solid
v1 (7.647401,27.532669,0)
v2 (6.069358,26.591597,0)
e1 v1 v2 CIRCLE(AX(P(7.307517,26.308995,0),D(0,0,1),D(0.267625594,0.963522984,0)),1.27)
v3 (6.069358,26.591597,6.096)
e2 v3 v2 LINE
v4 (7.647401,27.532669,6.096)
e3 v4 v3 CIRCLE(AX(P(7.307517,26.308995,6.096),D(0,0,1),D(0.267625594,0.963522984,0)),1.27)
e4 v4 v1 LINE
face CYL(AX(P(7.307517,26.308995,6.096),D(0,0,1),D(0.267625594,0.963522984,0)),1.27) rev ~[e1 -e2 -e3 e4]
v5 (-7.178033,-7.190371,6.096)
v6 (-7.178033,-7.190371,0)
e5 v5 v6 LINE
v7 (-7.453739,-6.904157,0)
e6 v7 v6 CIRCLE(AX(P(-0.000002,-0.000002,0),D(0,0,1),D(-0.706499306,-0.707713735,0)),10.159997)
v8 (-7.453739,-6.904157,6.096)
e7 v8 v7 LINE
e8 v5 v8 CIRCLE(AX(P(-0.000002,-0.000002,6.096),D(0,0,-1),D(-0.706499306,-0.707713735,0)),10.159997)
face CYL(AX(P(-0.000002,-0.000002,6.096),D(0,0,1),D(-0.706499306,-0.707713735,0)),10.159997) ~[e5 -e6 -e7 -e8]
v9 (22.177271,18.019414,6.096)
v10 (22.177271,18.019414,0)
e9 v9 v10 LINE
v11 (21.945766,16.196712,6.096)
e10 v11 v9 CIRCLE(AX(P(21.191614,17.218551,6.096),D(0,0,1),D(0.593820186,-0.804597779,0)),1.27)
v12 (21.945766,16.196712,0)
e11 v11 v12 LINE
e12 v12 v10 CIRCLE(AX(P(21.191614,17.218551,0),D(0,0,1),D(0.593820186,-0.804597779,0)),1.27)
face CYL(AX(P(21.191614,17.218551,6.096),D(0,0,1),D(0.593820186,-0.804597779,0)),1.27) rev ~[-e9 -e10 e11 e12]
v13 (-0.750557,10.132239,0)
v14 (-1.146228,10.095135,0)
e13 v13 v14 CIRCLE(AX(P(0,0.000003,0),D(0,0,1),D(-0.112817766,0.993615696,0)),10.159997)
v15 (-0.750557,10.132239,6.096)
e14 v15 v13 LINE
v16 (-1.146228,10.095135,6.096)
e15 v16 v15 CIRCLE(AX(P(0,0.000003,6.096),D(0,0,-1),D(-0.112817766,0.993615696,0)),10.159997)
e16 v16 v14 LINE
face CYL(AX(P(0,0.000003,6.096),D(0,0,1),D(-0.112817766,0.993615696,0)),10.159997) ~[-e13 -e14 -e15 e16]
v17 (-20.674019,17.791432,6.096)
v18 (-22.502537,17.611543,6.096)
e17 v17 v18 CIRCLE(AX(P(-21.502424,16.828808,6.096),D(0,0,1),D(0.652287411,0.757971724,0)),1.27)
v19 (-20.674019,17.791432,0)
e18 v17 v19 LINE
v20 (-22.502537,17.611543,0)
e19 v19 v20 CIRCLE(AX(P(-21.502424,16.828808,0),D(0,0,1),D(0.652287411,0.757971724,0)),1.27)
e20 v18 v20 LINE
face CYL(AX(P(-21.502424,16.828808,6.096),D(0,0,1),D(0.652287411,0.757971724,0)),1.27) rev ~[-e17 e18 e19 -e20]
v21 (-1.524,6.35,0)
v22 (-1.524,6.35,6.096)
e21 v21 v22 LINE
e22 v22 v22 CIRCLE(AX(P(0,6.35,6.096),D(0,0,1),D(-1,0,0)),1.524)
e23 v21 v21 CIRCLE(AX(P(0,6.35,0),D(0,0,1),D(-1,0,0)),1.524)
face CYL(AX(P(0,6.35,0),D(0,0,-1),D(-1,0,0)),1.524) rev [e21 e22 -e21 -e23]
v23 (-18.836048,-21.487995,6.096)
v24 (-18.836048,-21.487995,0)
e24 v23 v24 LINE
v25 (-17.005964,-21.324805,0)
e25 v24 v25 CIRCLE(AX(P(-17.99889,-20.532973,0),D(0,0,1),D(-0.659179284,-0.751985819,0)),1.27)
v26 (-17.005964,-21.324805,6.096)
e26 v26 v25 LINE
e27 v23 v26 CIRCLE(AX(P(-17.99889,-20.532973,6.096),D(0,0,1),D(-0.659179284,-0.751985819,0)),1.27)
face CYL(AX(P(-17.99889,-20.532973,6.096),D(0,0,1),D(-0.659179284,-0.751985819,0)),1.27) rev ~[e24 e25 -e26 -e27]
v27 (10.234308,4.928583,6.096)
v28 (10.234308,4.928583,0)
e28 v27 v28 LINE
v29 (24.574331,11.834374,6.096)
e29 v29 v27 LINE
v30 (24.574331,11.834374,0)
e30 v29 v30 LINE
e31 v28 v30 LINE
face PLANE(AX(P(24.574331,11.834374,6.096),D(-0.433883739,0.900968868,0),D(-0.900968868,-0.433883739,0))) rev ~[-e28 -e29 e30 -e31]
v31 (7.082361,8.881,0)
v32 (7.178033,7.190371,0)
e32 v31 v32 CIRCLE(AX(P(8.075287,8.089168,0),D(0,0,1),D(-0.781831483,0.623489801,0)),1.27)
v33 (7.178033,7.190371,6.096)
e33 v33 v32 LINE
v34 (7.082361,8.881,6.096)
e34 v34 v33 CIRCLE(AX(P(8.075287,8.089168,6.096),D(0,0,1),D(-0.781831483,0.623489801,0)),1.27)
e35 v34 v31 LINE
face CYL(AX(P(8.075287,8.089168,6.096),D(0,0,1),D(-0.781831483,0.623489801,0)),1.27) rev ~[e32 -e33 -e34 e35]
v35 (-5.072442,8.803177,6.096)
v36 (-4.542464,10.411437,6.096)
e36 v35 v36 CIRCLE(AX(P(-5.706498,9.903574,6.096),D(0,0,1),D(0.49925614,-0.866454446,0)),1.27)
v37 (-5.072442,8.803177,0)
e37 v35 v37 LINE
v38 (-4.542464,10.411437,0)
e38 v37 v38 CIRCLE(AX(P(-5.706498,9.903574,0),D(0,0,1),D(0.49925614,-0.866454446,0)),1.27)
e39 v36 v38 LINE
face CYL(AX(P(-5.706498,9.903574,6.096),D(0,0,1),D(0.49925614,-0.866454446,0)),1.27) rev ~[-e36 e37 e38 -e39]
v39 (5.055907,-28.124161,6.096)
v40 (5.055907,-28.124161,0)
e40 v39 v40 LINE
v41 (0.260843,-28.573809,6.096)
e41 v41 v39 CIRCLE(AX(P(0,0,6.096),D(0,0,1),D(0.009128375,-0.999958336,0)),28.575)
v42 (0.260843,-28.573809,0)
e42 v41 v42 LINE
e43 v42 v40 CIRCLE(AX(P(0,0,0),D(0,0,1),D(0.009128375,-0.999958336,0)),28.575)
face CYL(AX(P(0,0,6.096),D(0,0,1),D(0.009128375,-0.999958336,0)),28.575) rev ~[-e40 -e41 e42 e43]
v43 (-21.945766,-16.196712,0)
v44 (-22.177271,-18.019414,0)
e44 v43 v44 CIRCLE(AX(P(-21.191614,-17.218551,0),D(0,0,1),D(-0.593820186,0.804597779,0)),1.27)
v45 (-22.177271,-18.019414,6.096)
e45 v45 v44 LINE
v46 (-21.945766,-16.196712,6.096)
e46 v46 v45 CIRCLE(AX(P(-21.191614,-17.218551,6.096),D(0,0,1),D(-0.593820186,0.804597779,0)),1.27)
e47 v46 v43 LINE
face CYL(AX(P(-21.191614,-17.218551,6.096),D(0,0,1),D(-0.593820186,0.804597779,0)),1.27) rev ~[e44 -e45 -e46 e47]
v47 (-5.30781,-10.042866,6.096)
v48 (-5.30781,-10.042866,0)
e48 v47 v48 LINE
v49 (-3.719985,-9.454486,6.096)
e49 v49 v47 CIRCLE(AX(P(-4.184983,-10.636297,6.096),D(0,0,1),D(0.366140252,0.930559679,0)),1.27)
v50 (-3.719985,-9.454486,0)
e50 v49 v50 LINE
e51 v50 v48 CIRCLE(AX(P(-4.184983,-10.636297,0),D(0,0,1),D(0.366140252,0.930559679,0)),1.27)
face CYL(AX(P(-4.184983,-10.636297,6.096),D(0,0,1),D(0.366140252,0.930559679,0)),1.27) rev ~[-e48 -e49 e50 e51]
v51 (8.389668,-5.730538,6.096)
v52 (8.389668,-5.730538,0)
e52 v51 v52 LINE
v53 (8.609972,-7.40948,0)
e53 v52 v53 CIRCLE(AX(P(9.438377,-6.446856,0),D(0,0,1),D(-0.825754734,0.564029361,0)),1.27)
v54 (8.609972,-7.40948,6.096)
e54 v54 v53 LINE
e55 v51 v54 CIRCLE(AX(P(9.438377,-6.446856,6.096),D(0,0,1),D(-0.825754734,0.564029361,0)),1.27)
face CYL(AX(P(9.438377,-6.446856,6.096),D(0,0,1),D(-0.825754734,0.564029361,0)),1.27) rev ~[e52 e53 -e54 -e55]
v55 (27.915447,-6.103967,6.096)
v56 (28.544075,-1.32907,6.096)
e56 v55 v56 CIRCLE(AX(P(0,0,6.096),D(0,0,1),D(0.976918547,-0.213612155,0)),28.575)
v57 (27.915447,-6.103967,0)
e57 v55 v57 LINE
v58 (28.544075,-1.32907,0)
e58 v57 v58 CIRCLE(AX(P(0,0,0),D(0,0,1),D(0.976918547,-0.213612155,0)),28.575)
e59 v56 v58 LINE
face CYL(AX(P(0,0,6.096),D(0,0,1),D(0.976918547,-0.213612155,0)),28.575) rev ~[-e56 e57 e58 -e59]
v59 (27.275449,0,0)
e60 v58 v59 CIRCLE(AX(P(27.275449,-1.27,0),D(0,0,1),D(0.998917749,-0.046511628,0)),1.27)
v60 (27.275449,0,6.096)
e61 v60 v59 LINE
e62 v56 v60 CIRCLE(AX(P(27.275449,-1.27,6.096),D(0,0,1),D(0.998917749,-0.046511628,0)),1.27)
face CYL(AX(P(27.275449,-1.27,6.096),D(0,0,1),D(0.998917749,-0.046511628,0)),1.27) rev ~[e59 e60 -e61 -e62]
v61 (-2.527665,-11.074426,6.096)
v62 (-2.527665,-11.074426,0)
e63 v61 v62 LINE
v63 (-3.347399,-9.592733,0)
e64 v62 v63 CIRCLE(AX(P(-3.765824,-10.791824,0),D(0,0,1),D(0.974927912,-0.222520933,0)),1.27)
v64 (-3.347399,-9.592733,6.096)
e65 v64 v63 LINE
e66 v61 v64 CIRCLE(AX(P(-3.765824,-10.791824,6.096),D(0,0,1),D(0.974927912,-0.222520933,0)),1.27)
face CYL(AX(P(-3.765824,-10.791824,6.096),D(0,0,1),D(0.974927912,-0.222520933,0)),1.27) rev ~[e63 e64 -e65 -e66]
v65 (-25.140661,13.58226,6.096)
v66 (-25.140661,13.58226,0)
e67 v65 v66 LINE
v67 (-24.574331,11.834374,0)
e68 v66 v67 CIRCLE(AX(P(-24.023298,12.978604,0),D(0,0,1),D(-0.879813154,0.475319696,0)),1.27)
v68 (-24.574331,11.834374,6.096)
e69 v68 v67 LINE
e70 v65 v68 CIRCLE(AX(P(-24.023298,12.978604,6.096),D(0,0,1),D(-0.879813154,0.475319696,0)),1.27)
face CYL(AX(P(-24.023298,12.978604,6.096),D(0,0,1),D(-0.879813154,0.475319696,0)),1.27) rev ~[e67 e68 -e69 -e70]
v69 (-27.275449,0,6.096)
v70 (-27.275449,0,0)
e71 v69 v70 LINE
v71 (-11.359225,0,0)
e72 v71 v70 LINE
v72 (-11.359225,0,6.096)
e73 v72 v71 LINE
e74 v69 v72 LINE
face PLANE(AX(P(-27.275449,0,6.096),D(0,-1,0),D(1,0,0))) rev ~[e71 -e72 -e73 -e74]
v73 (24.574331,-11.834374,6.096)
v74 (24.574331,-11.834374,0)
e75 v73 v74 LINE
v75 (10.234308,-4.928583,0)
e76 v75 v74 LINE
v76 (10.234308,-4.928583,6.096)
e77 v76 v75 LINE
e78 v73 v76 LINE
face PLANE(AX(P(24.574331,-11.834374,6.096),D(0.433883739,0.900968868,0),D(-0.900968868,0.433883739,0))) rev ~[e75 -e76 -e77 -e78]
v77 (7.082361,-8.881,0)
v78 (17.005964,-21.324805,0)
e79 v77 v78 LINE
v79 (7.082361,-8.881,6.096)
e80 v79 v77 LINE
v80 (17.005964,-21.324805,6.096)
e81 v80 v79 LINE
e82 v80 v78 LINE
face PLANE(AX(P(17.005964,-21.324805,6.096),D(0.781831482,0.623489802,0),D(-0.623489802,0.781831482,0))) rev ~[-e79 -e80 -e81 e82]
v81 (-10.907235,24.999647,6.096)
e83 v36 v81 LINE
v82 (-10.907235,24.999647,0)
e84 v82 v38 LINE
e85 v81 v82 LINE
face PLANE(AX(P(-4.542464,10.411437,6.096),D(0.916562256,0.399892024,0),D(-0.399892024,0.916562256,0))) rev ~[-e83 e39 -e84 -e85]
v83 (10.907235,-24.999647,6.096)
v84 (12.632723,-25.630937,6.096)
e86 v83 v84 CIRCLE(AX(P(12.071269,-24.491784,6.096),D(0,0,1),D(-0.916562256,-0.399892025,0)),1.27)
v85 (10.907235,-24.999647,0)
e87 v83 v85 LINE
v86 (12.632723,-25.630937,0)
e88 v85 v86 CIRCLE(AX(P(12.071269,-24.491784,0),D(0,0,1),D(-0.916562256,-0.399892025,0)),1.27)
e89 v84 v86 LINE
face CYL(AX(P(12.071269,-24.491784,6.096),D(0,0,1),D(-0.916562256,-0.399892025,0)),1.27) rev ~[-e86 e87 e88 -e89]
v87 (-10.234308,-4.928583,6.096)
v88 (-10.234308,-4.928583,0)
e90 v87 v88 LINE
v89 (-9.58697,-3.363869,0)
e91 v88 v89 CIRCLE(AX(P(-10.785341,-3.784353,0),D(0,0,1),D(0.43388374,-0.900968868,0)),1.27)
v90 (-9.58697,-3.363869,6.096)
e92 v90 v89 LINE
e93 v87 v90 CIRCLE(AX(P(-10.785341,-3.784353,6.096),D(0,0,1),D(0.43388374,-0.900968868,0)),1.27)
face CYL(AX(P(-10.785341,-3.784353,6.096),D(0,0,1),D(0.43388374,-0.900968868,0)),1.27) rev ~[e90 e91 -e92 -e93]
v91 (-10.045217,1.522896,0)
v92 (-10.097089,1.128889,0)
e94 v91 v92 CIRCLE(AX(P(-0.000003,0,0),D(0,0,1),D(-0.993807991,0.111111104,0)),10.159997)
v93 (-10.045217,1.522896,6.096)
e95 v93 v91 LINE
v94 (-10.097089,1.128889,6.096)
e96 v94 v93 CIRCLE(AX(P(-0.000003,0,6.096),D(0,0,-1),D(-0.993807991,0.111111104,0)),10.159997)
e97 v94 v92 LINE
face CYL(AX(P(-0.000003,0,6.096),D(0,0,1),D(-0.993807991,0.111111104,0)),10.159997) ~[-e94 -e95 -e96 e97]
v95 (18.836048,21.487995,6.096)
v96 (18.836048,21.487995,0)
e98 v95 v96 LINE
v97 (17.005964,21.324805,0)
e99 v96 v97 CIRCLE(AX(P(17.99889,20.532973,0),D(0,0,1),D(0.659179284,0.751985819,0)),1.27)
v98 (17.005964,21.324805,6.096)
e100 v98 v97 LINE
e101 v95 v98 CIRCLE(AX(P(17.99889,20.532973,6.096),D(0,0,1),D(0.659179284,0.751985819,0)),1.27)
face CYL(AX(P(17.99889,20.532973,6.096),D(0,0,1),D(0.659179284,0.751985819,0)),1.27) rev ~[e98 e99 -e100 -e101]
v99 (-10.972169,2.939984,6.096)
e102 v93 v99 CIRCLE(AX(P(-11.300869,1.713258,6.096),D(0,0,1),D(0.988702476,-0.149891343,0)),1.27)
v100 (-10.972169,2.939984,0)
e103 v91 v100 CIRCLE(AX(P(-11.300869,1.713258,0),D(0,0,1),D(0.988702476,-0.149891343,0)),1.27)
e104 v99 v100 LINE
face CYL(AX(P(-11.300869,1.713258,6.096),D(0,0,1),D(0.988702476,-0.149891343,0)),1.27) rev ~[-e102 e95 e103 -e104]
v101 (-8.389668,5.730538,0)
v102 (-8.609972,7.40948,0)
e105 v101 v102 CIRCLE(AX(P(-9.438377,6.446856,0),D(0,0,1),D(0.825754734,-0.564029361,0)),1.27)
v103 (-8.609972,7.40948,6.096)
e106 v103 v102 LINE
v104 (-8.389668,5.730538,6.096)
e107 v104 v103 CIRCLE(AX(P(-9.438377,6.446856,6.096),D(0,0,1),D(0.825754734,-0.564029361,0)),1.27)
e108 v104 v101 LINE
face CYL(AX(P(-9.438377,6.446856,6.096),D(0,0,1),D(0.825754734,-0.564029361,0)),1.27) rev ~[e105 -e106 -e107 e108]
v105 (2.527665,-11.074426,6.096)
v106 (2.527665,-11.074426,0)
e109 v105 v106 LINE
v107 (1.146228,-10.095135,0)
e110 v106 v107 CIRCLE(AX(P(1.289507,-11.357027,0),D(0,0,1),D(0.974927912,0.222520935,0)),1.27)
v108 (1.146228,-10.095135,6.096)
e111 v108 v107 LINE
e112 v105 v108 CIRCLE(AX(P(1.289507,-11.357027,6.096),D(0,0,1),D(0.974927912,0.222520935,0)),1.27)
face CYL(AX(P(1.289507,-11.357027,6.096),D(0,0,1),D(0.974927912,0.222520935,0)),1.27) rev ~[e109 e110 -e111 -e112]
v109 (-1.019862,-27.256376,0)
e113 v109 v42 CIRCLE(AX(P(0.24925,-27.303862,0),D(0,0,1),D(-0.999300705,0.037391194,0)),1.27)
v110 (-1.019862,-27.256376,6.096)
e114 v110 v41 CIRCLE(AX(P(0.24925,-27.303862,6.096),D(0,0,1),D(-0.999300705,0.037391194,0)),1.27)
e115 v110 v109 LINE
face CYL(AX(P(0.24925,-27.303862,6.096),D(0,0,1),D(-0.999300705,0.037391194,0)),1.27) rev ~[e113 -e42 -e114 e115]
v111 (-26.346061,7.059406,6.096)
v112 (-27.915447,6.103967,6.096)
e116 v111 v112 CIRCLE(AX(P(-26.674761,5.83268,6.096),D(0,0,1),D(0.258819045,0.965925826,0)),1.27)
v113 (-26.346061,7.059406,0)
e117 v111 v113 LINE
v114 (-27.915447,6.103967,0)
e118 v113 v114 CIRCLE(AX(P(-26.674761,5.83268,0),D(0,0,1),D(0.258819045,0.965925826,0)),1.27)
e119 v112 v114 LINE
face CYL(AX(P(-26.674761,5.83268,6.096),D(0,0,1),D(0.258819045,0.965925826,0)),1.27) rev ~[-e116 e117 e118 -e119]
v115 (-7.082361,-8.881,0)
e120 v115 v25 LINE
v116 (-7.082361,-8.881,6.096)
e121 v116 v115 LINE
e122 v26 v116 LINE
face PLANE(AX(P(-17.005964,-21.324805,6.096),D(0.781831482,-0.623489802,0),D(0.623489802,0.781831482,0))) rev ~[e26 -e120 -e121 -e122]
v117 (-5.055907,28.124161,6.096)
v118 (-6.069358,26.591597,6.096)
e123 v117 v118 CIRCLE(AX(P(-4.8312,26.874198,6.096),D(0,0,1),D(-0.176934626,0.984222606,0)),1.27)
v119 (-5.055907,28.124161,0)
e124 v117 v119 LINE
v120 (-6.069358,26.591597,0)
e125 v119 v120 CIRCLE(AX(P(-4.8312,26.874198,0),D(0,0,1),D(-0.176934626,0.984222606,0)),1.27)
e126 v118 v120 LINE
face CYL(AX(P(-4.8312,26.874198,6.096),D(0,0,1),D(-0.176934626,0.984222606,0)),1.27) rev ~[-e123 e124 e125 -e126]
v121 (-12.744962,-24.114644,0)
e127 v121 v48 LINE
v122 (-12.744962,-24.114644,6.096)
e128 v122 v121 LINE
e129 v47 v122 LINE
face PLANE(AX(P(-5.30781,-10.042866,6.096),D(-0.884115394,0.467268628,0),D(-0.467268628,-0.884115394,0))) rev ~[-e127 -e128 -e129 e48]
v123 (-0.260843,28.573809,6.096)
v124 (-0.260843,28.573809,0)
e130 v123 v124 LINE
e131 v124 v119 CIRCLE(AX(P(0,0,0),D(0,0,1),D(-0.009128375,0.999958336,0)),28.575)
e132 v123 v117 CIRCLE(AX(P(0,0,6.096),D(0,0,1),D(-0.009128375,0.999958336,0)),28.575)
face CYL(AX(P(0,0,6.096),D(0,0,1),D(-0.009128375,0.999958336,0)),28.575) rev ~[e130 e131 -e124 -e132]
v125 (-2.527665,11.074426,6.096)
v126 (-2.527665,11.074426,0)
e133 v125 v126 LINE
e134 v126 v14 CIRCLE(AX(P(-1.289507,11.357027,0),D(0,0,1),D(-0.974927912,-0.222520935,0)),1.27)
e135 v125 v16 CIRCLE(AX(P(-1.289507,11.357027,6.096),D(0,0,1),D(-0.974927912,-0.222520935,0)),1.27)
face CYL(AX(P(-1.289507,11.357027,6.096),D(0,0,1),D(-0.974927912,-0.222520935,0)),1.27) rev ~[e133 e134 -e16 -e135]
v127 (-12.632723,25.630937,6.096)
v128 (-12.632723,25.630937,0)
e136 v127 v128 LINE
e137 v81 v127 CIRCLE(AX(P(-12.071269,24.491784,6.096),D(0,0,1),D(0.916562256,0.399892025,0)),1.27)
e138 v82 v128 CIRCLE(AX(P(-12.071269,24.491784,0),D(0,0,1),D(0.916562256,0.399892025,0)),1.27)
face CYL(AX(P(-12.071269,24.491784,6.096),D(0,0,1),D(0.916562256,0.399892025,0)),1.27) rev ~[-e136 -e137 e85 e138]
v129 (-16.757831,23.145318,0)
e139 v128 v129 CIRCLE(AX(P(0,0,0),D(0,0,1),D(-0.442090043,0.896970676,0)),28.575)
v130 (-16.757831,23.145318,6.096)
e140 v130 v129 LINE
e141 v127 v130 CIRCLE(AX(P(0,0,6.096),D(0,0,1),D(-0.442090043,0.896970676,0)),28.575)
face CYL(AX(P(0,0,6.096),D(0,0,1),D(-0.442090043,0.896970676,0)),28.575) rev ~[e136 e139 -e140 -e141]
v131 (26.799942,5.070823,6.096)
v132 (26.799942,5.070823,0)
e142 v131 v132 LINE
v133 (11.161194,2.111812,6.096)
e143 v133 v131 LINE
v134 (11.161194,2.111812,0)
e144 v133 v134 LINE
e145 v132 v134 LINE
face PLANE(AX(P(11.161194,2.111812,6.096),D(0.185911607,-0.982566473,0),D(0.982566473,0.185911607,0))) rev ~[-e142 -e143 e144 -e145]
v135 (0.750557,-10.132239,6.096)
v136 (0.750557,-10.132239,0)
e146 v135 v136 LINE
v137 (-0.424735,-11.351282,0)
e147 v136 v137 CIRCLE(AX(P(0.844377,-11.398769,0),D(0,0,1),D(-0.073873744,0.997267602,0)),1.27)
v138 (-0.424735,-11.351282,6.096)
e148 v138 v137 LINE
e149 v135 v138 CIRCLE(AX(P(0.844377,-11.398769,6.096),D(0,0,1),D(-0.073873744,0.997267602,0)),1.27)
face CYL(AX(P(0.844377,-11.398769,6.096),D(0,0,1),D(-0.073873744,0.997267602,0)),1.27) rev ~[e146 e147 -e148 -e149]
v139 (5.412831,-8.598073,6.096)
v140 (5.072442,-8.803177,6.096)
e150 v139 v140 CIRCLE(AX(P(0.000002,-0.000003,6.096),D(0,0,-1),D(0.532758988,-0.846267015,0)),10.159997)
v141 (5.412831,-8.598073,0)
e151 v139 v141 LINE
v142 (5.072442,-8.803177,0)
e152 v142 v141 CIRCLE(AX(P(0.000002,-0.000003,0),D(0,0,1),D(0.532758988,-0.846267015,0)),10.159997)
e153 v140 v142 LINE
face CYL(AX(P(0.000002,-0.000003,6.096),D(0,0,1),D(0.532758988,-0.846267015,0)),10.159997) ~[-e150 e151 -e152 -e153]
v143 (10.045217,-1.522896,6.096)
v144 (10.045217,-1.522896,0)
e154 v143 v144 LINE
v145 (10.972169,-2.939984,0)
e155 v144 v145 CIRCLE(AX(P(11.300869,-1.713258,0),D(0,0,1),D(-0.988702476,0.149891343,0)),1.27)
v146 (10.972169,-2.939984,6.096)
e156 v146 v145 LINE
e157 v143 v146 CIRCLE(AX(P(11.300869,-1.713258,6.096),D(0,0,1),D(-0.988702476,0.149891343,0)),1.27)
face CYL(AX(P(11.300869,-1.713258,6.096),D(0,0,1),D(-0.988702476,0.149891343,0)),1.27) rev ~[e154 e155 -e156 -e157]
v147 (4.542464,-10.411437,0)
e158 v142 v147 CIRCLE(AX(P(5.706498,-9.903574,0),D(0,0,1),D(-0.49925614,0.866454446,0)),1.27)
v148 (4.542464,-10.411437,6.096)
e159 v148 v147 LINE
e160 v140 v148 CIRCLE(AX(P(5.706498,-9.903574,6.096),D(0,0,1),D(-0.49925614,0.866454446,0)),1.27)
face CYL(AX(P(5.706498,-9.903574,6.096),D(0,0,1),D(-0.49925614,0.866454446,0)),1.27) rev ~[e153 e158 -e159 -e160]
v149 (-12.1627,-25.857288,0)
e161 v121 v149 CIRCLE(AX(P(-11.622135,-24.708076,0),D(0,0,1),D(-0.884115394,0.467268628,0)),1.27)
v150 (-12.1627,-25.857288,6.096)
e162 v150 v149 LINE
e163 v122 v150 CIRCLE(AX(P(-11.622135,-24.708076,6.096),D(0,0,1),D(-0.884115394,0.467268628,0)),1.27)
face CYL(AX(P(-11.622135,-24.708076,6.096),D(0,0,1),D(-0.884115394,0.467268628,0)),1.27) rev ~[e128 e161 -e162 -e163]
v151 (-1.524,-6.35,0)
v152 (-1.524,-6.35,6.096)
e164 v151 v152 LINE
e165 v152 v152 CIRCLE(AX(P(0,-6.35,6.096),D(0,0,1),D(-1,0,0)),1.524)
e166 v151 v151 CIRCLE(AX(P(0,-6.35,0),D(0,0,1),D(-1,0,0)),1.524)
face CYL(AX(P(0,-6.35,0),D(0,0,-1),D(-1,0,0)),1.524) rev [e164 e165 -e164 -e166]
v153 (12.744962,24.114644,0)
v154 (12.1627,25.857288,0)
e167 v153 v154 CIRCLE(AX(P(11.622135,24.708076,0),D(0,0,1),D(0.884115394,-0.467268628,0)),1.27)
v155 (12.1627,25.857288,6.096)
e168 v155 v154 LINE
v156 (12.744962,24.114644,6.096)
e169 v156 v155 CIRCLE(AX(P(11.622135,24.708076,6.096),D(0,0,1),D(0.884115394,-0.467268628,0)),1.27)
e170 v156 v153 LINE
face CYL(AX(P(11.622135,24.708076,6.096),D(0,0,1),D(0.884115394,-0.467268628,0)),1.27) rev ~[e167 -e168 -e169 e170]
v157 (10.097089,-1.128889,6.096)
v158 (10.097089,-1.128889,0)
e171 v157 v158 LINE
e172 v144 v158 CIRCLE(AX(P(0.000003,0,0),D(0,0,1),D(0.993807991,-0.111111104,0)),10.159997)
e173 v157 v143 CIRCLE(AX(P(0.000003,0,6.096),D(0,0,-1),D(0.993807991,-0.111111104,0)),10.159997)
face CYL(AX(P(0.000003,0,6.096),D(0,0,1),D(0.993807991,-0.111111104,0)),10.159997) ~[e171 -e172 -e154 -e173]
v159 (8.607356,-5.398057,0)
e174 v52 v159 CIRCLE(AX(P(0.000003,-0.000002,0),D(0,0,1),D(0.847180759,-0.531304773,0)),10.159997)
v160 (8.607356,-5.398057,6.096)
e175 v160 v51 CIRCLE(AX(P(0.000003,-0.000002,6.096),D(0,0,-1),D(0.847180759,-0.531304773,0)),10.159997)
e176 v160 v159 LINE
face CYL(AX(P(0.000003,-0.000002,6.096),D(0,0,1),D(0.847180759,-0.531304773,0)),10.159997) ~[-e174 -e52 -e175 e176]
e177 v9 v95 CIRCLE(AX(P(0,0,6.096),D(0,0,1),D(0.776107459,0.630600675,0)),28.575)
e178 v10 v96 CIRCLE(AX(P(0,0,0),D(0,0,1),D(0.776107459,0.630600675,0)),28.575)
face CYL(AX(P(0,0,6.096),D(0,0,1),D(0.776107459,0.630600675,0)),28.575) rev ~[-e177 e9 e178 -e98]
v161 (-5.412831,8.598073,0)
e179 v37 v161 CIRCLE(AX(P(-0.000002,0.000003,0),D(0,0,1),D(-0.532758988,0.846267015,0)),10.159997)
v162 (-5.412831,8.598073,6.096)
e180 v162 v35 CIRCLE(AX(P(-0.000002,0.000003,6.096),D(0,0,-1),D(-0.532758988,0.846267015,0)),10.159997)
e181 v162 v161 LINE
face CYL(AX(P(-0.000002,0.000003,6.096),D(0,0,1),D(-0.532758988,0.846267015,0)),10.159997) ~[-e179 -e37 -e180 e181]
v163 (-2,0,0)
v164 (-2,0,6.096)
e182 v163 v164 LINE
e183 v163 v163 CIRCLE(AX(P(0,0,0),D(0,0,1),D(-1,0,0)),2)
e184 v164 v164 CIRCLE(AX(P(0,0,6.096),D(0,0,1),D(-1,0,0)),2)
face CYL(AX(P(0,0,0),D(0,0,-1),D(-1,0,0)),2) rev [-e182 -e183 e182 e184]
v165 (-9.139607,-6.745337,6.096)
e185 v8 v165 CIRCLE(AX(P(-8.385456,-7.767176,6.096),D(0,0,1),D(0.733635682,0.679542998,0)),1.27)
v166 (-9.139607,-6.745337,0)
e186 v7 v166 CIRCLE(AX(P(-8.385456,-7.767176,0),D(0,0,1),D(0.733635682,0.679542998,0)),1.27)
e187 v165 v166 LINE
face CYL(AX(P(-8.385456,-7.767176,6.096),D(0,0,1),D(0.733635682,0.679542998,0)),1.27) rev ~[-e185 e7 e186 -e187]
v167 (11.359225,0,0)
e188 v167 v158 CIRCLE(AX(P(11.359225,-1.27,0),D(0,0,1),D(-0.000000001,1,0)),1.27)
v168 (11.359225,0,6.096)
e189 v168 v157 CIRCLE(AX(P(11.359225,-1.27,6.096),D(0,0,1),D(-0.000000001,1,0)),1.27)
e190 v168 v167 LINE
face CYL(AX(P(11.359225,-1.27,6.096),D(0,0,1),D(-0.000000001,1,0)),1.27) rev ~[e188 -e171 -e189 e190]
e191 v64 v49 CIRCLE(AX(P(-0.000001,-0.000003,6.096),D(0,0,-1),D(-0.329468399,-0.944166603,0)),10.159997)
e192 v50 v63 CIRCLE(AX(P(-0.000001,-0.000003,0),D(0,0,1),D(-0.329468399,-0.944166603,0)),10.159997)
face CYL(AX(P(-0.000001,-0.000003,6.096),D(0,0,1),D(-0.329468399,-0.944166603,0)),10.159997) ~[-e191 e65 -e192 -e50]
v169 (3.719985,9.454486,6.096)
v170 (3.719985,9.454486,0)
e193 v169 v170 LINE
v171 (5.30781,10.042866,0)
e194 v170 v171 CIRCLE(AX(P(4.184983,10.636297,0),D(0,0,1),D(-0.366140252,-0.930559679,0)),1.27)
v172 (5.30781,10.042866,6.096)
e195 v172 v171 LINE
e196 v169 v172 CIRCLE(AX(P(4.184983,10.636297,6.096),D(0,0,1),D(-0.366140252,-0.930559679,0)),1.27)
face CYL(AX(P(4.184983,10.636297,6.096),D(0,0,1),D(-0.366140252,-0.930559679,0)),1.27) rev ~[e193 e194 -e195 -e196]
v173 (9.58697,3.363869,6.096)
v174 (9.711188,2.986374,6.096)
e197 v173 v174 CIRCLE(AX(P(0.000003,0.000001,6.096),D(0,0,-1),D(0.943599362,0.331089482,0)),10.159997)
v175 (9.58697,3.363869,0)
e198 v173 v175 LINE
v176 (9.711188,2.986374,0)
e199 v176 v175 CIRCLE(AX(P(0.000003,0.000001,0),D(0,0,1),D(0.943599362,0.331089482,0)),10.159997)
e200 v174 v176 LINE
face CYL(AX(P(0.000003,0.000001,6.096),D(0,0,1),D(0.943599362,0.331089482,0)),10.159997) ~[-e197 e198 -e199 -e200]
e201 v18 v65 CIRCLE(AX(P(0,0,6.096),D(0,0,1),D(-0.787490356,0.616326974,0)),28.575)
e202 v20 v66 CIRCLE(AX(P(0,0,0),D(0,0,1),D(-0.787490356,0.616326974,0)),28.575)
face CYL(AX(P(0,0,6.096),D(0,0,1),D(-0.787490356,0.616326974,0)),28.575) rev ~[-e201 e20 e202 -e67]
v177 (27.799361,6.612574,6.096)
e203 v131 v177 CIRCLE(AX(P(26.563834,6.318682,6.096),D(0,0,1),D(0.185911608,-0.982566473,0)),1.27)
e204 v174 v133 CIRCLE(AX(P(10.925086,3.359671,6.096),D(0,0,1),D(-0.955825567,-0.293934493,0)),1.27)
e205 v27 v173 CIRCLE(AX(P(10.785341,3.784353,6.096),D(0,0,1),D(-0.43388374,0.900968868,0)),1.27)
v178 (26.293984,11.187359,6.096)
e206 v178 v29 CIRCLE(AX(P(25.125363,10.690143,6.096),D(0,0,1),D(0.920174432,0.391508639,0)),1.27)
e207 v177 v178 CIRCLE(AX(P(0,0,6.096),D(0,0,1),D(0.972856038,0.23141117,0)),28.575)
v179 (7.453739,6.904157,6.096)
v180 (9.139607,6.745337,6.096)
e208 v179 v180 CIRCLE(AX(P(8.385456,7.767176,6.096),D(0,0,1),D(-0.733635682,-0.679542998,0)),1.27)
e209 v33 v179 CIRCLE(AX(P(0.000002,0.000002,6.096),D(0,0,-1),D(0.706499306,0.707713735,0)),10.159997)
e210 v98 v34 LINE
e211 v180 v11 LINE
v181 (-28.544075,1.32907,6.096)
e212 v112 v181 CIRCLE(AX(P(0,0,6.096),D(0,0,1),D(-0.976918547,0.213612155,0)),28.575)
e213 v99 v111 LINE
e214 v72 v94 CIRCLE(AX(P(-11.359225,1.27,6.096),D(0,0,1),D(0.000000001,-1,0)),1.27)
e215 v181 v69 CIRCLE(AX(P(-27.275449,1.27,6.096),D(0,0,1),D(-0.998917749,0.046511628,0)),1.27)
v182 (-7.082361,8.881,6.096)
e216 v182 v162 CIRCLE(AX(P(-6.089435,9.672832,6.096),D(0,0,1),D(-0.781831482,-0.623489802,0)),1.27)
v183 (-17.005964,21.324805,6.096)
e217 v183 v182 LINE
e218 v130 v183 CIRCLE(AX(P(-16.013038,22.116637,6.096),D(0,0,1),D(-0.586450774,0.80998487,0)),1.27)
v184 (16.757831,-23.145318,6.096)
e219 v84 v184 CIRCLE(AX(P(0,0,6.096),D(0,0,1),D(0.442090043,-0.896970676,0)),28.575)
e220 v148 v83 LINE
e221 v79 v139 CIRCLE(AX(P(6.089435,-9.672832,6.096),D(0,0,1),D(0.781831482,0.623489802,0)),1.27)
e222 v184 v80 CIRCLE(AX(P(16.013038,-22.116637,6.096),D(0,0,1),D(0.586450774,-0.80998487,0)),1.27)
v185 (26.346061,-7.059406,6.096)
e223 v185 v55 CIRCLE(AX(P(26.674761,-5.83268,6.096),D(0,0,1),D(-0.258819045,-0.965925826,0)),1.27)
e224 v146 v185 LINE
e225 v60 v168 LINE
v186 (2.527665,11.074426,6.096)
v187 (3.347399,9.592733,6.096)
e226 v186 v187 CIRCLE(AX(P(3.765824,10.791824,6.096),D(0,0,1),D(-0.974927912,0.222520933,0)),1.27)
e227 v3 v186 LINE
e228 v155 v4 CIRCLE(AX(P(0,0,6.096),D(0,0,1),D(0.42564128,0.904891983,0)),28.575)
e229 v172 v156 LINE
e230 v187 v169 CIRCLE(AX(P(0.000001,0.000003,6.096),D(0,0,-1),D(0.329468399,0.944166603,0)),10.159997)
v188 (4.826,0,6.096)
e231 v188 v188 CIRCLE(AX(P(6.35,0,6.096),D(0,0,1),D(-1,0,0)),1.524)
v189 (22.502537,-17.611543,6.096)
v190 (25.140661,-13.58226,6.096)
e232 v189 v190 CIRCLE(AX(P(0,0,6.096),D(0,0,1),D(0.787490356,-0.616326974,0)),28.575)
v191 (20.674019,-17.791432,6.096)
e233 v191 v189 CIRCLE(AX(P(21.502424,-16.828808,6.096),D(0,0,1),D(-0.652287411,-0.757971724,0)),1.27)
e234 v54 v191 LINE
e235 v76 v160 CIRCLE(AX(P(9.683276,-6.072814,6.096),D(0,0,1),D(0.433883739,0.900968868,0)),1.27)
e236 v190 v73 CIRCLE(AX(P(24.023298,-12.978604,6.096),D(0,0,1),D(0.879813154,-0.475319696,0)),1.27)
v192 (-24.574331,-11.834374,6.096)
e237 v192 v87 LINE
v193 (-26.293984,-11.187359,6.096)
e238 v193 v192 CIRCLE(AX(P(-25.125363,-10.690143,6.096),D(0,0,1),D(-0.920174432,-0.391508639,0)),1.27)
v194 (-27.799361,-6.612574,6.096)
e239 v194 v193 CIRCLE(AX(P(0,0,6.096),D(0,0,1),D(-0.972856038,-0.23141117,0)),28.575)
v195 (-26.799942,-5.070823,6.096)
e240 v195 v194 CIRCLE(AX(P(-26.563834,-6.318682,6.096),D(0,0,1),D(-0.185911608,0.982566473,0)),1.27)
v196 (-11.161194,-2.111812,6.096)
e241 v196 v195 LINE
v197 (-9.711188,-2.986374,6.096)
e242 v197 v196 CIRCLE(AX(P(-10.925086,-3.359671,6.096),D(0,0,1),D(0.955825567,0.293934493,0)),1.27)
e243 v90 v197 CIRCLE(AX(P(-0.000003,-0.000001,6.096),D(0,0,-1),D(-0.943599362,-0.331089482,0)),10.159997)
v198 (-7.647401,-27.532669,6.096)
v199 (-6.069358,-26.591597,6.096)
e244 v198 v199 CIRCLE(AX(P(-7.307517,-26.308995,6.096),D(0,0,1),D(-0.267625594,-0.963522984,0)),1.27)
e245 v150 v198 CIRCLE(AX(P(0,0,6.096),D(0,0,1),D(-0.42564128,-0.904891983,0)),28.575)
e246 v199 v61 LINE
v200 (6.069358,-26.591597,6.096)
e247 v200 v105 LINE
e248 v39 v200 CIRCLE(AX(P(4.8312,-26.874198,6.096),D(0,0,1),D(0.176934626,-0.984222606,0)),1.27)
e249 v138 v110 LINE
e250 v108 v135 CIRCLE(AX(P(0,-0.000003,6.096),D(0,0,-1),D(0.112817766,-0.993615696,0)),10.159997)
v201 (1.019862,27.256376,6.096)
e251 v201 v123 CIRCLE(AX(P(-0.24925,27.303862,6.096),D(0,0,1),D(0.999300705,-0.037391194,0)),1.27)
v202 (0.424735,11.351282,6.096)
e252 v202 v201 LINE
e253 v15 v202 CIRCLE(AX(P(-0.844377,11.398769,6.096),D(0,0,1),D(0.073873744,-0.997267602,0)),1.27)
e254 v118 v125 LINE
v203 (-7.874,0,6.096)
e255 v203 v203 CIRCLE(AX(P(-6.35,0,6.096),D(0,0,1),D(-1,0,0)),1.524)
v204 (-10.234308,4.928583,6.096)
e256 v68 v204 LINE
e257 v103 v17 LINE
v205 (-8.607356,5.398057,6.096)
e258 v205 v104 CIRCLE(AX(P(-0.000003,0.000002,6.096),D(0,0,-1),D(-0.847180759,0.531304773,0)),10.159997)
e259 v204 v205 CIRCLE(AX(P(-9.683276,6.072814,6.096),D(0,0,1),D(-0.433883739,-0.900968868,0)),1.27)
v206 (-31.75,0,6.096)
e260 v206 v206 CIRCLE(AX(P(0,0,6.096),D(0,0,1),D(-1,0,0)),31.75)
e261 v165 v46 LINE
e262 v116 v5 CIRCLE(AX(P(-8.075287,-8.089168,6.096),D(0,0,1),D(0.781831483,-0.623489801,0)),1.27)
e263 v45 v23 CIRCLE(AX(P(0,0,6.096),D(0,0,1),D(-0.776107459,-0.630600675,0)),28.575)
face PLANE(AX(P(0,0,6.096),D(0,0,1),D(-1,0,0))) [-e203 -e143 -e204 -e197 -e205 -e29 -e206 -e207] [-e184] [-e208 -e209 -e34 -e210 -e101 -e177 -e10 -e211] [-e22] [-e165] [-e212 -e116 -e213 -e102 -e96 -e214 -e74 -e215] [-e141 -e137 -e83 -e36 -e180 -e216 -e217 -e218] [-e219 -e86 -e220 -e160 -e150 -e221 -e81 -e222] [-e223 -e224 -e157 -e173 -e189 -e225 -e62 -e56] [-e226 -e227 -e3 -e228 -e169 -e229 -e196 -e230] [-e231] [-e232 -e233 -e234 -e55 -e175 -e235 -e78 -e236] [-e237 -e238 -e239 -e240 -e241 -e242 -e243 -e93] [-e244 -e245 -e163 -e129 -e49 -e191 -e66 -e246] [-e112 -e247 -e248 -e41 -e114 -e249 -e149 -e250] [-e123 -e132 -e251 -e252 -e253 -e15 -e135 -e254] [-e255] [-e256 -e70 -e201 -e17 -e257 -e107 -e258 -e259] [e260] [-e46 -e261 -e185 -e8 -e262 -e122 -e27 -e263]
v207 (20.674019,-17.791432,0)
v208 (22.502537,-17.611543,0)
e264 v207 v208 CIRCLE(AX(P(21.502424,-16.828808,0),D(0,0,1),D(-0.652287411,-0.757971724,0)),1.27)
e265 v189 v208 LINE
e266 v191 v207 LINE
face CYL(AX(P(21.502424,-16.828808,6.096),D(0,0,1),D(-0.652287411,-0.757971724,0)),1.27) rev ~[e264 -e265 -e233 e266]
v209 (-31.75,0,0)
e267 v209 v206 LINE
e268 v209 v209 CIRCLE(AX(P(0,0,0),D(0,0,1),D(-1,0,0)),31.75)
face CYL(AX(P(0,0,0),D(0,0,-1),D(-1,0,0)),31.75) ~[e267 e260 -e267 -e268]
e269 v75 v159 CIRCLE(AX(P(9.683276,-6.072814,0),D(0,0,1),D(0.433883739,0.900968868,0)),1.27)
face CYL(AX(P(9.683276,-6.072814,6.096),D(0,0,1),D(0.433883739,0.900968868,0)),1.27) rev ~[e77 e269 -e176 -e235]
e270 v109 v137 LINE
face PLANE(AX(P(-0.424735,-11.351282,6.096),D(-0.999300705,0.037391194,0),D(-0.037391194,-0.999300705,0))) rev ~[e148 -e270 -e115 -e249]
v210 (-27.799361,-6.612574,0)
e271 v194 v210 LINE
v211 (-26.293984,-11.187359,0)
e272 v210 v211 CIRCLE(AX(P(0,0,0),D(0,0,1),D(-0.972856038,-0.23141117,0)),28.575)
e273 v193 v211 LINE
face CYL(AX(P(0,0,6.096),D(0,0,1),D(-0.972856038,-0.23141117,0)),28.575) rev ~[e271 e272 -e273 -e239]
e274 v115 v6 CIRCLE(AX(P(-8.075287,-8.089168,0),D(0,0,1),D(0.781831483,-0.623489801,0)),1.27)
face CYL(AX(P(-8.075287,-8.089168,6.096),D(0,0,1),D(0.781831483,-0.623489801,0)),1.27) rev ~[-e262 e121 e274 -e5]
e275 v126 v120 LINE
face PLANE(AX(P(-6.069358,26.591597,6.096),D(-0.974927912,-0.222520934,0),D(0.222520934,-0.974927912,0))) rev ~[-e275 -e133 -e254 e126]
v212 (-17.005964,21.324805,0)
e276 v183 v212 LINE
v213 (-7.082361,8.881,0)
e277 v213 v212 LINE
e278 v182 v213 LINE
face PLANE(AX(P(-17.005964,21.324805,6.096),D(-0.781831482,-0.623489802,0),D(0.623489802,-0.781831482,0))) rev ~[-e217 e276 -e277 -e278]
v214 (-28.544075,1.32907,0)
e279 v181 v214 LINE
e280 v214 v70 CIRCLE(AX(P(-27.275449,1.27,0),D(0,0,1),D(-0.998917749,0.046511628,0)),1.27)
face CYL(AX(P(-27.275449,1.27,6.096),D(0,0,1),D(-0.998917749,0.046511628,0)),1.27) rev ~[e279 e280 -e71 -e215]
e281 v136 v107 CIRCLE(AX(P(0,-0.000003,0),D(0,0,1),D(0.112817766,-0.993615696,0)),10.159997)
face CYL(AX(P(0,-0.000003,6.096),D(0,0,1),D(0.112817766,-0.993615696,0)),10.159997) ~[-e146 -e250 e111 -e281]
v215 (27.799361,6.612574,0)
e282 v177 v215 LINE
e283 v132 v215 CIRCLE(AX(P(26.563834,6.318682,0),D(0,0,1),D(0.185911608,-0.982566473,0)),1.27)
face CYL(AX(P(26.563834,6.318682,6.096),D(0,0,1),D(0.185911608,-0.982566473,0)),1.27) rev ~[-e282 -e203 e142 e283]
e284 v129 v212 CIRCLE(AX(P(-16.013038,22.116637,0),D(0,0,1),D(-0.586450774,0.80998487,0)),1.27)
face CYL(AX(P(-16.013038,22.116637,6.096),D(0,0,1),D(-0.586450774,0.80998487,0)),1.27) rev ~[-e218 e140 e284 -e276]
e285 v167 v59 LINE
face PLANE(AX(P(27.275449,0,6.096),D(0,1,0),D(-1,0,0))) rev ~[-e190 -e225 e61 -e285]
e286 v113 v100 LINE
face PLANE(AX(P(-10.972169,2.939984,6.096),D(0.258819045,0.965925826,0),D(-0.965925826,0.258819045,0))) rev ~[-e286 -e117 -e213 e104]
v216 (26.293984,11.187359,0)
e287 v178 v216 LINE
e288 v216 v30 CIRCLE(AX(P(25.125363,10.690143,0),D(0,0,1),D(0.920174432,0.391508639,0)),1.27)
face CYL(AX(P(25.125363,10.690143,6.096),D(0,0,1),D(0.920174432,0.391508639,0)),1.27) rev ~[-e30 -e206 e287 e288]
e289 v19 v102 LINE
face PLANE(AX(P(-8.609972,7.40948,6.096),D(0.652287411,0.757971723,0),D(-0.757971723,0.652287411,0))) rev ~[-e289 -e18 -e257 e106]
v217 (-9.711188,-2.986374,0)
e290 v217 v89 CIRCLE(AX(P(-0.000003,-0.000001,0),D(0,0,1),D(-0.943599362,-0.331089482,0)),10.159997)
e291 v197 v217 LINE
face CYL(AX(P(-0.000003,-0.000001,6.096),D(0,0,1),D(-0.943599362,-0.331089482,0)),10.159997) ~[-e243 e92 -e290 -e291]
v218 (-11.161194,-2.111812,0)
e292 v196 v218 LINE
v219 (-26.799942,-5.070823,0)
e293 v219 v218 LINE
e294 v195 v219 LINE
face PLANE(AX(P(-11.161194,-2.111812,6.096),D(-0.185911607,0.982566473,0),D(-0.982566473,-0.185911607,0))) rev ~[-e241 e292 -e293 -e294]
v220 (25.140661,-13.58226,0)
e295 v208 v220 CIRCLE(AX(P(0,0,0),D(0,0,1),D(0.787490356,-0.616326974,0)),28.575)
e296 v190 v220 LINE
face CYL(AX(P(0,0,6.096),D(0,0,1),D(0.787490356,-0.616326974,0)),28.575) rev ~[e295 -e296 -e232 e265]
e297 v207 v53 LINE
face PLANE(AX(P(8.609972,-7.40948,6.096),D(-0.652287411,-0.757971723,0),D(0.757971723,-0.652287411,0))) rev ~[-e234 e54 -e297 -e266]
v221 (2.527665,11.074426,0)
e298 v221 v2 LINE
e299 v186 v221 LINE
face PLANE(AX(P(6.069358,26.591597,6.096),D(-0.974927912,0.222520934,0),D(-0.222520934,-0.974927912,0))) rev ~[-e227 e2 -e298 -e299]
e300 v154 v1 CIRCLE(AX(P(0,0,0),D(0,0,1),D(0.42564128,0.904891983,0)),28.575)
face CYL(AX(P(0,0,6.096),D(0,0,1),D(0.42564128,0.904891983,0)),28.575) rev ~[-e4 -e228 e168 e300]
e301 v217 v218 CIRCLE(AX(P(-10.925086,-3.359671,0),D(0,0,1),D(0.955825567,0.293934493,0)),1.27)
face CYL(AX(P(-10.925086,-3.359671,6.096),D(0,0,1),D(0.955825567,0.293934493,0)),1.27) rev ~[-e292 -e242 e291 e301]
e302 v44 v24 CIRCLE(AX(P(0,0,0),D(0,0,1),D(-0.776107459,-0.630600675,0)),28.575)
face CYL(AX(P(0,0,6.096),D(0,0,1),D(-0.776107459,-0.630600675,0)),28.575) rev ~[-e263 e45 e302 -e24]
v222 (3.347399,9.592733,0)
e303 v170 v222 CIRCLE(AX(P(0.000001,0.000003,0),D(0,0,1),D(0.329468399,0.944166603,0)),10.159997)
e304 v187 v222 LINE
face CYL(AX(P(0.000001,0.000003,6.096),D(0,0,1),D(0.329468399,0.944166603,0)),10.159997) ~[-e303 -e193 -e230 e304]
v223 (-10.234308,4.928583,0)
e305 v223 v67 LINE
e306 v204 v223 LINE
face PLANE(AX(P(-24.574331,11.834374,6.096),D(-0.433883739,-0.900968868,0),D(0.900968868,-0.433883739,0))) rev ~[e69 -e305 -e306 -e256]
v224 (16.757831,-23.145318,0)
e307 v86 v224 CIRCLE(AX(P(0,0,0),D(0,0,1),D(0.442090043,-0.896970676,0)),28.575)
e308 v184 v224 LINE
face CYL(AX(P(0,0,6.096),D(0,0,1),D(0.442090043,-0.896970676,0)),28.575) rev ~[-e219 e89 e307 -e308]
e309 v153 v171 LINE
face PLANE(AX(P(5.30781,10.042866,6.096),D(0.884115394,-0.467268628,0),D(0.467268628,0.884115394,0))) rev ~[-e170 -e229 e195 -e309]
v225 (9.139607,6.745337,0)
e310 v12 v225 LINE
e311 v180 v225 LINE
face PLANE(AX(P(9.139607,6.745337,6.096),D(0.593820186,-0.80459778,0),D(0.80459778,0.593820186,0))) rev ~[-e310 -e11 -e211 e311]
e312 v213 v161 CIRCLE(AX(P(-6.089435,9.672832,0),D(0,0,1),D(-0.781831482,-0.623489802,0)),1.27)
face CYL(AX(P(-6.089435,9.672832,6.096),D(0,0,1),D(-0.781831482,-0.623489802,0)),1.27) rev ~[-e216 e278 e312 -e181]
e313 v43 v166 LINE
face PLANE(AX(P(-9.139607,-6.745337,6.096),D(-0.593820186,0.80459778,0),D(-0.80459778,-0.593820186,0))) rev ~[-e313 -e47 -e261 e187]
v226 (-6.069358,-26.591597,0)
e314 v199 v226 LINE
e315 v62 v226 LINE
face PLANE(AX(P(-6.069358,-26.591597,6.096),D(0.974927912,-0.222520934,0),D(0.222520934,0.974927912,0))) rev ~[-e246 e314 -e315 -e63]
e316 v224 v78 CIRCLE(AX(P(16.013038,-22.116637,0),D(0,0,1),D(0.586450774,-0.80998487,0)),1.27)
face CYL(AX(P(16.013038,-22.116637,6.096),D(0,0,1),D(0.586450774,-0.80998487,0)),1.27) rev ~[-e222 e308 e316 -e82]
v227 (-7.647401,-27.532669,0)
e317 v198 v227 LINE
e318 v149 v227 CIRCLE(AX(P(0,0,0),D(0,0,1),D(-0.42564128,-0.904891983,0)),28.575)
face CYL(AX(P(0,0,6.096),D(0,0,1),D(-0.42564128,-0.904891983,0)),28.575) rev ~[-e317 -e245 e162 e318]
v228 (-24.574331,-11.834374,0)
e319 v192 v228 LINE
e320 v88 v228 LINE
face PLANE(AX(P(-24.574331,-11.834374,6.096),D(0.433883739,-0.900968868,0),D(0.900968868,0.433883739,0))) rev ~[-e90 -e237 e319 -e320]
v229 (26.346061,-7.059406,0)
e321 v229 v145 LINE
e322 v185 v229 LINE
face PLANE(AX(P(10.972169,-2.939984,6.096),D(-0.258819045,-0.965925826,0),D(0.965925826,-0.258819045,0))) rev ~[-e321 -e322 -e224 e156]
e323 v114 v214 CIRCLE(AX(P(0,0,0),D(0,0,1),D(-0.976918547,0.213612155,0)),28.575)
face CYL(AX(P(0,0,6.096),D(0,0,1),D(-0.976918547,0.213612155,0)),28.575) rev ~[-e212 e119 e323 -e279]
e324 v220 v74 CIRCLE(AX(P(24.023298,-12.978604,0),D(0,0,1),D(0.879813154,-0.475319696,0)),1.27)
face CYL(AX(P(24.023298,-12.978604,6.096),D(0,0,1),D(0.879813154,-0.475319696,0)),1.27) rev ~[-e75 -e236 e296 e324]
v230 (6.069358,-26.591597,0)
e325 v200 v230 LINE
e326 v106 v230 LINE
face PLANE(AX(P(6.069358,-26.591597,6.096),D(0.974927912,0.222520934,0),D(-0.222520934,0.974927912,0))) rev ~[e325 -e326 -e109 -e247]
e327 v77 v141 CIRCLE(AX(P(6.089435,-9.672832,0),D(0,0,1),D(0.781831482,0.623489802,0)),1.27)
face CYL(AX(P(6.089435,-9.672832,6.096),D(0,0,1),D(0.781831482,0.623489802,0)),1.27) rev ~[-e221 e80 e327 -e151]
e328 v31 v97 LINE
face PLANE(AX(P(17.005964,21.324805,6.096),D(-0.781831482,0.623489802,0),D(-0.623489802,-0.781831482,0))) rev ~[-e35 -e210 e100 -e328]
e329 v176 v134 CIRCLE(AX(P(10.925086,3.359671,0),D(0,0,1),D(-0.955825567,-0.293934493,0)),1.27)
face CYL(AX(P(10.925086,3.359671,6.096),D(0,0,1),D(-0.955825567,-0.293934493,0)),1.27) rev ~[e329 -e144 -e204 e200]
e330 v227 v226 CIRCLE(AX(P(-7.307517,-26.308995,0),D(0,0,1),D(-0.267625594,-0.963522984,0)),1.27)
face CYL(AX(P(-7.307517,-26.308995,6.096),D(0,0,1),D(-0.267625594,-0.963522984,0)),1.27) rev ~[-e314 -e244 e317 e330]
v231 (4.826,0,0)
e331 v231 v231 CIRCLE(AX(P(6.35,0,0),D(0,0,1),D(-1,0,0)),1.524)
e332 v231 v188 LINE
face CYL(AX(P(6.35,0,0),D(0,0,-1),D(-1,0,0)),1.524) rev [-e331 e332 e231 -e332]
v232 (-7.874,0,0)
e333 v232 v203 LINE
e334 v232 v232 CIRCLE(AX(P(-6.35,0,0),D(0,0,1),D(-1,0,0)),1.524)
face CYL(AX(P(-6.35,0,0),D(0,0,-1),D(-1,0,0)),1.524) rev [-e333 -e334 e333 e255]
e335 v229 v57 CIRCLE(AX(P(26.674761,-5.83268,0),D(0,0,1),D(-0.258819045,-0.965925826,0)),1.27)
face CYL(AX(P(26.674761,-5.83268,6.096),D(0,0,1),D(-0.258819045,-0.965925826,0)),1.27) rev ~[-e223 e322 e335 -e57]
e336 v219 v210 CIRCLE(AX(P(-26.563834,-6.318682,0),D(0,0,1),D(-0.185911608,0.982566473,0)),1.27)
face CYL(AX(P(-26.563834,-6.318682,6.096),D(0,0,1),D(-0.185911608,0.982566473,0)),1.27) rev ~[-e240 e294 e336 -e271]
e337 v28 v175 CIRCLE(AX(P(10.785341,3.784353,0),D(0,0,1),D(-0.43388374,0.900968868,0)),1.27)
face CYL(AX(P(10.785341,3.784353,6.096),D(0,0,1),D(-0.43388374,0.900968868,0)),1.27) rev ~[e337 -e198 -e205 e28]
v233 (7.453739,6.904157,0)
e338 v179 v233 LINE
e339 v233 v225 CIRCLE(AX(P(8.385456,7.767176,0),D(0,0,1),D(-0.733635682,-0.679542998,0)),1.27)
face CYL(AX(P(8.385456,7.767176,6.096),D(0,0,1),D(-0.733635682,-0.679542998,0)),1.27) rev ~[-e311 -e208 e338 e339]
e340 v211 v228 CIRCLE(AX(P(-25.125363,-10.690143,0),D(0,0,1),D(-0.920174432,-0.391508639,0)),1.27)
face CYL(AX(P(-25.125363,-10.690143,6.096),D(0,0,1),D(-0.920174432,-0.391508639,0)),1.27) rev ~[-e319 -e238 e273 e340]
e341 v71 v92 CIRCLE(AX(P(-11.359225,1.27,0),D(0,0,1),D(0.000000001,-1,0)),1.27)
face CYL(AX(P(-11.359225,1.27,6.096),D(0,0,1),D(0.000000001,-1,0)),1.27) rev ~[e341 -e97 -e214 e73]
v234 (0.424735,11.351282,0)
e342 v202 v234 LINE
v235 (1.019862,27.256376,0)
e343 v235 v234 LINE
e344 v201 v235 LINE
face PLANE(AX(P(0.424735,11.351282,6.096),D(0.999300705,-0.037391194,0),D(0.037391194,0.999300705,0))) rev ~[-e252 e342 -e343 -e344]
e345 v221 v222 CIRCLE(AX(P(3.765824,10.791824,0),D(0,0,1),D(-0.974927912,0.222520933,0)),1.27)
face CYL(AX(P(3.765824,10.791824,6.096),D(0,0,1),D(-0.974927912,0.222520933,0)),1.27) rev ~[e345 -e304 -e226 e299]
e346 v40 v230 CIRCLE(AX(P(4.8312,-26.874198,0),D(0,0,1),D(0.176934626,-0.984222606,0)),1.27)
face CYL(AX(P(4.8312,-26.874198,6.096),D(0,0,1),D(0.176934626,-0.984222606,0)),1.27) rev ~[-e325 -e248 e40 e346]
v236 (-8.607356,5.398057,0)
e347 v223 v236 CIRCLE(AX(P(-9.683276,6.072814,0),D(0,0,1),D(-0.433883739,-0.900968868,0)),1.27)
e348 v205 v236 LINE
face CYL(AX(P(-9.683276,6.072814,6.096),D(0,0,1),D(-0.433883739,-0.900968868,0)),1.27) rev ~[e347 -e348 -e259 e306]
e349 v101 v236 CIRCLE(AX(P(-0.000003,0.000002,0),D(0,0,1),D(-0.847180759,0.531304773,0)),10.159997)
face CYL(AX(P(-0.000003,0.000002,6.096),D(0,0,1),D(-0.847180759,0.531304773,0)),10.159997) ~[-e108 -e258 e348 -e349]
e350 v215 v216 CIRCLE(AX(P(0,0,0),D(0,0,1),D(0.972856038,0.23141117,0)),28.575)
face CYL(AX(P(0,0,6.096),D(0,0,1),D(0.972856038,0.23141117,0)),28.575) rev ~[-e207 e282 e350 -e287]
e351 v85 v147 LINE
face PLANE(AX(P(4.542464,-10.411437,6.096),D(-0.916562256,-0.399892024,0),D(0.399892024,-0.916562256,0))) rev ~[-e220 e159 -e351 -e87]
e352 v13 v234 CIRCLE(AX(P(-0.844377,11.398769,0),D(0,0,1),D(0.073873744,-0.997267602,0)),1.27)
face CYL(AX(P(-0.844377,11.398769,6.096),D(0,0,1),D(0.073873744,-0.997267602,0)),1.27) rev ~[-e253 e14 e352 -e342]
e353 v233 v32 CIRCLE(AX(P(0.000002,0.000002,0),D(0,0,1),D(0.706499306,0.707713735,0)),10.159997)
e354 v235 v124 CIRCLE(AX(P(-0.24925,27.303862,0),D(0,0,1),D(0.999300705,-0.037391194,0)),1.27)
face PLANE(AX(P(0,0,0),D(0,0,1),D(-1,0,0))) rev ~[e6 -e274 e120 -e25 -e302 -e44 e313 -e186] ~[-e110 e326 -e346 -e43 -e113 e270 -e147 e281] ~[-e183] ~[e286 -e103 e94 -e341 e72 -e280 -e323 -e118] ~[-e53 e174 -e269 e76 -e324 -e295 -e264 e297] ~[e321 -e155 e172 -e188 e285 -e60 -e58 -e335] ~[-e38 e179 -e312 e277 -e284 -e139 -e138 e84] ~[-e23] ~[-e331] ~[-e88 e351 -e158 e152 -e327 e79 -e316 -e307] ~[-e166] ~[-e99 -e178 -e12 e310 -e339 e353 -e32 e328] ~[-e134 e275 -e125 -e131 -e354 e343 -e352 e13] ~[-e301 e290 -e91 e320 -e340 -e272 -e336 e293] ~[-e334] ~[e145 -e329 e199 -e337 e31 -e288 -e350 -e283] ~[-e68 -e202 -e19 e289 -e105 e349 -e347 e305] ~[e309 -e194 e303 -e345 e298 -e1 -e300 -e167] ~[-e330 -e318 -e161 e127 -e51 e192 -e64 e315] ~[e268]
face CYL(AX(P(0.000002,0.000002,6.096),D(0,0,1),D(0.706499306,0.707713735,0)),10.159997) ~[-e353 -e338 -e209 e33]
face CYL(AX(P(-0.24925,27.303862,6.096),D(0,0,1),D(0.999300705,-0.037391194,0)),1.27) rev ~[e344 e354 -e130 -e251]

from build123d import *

# Parameters (mm, degrees)
SKETCH1_R           = 31.75
SKETCH1_R_2         = 1.524
SKETCH1_R_3         = 2
BOSS_EXTRUDE1_DEPTH = 6.096
CUT_EXTRUDE1_REACH  = 47.313
CIRPATTERN1_COUNT   = 14


with BuildPart() as part:
    # Sketch1 → Boss-Extrude1 (new body)
    with BuildSketch(Plane.XY):
        Circle(SKETCH1_R)
        with Locations((0, 6.35)):
            Circle(SKETCH1_R_2, mode=Mode.SUBTRACT)
        with Locations((6.35, 0)):
            Circle(SKETCH1_R_2, mode=Mode.SUBTRACT)
        with Locations((0, -6.35)):
            Circle(SKETCH1_R_2, mode=Mode.SUBTRACT)
        with Locations((-6.35, 0)):
            Circle(SKETCH1_R_2, mode=Mode.SUBTRACT)
        Circle(SKETCH1_R_3, mode=Mode.SUBTRACT)
    extrude(amount=BOSS_EXTRUDE1_DEPTH)

    # Sketch2 → Cut-Extrude1 (cut, up to next)
    with BuildSketch(Plane.XY.offset(6.096), mode=Mode.PRIVATE) as cut_extrude1_sk1:
        with BuildLine():
            Line((-27.275449126, 0), (-11.359225326, 0))
            ThreePointArc((-11.359225326, 0), (-10.512558659, 0.32339789), (-10.097089178, 1.128888889))
            ThreePointArc((-10.097089178, 1.128888889), (-10.073079792, 1.326146113), (-10.045217152, 1.522896047))
            ThreePointArc((-10.045217152, 1.522896047), (-10.238053442, 2.40847202), (-10.972169109, 2.939983852))
            Line((-10.972169109, 2.939983852), (-26.346060734, 7.059405697))
            ThreePointArc((-26.346060734, 7.059405697), (-27.335173973, 6.917463102), (-27.915447476, 6.103967335))
            ThreePointArc((-27.915447476, 6.103967335), (-28.330536914, 3.729785943), (-28.544074666, 1.329069767))
            ThreePointArc((-28.544074666, 1.329069767), (-28.194121702, 0.393107363), (-27.275449126, 0))
        make_face()
    cut_extrude1_tool1 = extrude(cut_extrude1_sk1.sketch, amount=-CUT_EXTRUDE1_REACH, mode=Mode.PRIVATE) & part.part
    cut_extrude1 = cut_extrude1_tool1.solids().sort_by_distance((-20.595833, 2.711493, 6.096))[0]
    add(cut_extrude1, mode=Mode.SUBTRACT)

    # CirPattern1: Cut-Extrude1 ×14 about axis
    cirpattern1_axis = Axis((0, 0, 6.096), (0, 0, -1))
    for i in range(1, CIRPATTERN1_COUNT):
        add(cut_extrude1.rotate(cirpattern1_axis, i * 360 / CIRPATTERN1_COUNT), mode=Mode.SUBTRACT)


solid = part.part
